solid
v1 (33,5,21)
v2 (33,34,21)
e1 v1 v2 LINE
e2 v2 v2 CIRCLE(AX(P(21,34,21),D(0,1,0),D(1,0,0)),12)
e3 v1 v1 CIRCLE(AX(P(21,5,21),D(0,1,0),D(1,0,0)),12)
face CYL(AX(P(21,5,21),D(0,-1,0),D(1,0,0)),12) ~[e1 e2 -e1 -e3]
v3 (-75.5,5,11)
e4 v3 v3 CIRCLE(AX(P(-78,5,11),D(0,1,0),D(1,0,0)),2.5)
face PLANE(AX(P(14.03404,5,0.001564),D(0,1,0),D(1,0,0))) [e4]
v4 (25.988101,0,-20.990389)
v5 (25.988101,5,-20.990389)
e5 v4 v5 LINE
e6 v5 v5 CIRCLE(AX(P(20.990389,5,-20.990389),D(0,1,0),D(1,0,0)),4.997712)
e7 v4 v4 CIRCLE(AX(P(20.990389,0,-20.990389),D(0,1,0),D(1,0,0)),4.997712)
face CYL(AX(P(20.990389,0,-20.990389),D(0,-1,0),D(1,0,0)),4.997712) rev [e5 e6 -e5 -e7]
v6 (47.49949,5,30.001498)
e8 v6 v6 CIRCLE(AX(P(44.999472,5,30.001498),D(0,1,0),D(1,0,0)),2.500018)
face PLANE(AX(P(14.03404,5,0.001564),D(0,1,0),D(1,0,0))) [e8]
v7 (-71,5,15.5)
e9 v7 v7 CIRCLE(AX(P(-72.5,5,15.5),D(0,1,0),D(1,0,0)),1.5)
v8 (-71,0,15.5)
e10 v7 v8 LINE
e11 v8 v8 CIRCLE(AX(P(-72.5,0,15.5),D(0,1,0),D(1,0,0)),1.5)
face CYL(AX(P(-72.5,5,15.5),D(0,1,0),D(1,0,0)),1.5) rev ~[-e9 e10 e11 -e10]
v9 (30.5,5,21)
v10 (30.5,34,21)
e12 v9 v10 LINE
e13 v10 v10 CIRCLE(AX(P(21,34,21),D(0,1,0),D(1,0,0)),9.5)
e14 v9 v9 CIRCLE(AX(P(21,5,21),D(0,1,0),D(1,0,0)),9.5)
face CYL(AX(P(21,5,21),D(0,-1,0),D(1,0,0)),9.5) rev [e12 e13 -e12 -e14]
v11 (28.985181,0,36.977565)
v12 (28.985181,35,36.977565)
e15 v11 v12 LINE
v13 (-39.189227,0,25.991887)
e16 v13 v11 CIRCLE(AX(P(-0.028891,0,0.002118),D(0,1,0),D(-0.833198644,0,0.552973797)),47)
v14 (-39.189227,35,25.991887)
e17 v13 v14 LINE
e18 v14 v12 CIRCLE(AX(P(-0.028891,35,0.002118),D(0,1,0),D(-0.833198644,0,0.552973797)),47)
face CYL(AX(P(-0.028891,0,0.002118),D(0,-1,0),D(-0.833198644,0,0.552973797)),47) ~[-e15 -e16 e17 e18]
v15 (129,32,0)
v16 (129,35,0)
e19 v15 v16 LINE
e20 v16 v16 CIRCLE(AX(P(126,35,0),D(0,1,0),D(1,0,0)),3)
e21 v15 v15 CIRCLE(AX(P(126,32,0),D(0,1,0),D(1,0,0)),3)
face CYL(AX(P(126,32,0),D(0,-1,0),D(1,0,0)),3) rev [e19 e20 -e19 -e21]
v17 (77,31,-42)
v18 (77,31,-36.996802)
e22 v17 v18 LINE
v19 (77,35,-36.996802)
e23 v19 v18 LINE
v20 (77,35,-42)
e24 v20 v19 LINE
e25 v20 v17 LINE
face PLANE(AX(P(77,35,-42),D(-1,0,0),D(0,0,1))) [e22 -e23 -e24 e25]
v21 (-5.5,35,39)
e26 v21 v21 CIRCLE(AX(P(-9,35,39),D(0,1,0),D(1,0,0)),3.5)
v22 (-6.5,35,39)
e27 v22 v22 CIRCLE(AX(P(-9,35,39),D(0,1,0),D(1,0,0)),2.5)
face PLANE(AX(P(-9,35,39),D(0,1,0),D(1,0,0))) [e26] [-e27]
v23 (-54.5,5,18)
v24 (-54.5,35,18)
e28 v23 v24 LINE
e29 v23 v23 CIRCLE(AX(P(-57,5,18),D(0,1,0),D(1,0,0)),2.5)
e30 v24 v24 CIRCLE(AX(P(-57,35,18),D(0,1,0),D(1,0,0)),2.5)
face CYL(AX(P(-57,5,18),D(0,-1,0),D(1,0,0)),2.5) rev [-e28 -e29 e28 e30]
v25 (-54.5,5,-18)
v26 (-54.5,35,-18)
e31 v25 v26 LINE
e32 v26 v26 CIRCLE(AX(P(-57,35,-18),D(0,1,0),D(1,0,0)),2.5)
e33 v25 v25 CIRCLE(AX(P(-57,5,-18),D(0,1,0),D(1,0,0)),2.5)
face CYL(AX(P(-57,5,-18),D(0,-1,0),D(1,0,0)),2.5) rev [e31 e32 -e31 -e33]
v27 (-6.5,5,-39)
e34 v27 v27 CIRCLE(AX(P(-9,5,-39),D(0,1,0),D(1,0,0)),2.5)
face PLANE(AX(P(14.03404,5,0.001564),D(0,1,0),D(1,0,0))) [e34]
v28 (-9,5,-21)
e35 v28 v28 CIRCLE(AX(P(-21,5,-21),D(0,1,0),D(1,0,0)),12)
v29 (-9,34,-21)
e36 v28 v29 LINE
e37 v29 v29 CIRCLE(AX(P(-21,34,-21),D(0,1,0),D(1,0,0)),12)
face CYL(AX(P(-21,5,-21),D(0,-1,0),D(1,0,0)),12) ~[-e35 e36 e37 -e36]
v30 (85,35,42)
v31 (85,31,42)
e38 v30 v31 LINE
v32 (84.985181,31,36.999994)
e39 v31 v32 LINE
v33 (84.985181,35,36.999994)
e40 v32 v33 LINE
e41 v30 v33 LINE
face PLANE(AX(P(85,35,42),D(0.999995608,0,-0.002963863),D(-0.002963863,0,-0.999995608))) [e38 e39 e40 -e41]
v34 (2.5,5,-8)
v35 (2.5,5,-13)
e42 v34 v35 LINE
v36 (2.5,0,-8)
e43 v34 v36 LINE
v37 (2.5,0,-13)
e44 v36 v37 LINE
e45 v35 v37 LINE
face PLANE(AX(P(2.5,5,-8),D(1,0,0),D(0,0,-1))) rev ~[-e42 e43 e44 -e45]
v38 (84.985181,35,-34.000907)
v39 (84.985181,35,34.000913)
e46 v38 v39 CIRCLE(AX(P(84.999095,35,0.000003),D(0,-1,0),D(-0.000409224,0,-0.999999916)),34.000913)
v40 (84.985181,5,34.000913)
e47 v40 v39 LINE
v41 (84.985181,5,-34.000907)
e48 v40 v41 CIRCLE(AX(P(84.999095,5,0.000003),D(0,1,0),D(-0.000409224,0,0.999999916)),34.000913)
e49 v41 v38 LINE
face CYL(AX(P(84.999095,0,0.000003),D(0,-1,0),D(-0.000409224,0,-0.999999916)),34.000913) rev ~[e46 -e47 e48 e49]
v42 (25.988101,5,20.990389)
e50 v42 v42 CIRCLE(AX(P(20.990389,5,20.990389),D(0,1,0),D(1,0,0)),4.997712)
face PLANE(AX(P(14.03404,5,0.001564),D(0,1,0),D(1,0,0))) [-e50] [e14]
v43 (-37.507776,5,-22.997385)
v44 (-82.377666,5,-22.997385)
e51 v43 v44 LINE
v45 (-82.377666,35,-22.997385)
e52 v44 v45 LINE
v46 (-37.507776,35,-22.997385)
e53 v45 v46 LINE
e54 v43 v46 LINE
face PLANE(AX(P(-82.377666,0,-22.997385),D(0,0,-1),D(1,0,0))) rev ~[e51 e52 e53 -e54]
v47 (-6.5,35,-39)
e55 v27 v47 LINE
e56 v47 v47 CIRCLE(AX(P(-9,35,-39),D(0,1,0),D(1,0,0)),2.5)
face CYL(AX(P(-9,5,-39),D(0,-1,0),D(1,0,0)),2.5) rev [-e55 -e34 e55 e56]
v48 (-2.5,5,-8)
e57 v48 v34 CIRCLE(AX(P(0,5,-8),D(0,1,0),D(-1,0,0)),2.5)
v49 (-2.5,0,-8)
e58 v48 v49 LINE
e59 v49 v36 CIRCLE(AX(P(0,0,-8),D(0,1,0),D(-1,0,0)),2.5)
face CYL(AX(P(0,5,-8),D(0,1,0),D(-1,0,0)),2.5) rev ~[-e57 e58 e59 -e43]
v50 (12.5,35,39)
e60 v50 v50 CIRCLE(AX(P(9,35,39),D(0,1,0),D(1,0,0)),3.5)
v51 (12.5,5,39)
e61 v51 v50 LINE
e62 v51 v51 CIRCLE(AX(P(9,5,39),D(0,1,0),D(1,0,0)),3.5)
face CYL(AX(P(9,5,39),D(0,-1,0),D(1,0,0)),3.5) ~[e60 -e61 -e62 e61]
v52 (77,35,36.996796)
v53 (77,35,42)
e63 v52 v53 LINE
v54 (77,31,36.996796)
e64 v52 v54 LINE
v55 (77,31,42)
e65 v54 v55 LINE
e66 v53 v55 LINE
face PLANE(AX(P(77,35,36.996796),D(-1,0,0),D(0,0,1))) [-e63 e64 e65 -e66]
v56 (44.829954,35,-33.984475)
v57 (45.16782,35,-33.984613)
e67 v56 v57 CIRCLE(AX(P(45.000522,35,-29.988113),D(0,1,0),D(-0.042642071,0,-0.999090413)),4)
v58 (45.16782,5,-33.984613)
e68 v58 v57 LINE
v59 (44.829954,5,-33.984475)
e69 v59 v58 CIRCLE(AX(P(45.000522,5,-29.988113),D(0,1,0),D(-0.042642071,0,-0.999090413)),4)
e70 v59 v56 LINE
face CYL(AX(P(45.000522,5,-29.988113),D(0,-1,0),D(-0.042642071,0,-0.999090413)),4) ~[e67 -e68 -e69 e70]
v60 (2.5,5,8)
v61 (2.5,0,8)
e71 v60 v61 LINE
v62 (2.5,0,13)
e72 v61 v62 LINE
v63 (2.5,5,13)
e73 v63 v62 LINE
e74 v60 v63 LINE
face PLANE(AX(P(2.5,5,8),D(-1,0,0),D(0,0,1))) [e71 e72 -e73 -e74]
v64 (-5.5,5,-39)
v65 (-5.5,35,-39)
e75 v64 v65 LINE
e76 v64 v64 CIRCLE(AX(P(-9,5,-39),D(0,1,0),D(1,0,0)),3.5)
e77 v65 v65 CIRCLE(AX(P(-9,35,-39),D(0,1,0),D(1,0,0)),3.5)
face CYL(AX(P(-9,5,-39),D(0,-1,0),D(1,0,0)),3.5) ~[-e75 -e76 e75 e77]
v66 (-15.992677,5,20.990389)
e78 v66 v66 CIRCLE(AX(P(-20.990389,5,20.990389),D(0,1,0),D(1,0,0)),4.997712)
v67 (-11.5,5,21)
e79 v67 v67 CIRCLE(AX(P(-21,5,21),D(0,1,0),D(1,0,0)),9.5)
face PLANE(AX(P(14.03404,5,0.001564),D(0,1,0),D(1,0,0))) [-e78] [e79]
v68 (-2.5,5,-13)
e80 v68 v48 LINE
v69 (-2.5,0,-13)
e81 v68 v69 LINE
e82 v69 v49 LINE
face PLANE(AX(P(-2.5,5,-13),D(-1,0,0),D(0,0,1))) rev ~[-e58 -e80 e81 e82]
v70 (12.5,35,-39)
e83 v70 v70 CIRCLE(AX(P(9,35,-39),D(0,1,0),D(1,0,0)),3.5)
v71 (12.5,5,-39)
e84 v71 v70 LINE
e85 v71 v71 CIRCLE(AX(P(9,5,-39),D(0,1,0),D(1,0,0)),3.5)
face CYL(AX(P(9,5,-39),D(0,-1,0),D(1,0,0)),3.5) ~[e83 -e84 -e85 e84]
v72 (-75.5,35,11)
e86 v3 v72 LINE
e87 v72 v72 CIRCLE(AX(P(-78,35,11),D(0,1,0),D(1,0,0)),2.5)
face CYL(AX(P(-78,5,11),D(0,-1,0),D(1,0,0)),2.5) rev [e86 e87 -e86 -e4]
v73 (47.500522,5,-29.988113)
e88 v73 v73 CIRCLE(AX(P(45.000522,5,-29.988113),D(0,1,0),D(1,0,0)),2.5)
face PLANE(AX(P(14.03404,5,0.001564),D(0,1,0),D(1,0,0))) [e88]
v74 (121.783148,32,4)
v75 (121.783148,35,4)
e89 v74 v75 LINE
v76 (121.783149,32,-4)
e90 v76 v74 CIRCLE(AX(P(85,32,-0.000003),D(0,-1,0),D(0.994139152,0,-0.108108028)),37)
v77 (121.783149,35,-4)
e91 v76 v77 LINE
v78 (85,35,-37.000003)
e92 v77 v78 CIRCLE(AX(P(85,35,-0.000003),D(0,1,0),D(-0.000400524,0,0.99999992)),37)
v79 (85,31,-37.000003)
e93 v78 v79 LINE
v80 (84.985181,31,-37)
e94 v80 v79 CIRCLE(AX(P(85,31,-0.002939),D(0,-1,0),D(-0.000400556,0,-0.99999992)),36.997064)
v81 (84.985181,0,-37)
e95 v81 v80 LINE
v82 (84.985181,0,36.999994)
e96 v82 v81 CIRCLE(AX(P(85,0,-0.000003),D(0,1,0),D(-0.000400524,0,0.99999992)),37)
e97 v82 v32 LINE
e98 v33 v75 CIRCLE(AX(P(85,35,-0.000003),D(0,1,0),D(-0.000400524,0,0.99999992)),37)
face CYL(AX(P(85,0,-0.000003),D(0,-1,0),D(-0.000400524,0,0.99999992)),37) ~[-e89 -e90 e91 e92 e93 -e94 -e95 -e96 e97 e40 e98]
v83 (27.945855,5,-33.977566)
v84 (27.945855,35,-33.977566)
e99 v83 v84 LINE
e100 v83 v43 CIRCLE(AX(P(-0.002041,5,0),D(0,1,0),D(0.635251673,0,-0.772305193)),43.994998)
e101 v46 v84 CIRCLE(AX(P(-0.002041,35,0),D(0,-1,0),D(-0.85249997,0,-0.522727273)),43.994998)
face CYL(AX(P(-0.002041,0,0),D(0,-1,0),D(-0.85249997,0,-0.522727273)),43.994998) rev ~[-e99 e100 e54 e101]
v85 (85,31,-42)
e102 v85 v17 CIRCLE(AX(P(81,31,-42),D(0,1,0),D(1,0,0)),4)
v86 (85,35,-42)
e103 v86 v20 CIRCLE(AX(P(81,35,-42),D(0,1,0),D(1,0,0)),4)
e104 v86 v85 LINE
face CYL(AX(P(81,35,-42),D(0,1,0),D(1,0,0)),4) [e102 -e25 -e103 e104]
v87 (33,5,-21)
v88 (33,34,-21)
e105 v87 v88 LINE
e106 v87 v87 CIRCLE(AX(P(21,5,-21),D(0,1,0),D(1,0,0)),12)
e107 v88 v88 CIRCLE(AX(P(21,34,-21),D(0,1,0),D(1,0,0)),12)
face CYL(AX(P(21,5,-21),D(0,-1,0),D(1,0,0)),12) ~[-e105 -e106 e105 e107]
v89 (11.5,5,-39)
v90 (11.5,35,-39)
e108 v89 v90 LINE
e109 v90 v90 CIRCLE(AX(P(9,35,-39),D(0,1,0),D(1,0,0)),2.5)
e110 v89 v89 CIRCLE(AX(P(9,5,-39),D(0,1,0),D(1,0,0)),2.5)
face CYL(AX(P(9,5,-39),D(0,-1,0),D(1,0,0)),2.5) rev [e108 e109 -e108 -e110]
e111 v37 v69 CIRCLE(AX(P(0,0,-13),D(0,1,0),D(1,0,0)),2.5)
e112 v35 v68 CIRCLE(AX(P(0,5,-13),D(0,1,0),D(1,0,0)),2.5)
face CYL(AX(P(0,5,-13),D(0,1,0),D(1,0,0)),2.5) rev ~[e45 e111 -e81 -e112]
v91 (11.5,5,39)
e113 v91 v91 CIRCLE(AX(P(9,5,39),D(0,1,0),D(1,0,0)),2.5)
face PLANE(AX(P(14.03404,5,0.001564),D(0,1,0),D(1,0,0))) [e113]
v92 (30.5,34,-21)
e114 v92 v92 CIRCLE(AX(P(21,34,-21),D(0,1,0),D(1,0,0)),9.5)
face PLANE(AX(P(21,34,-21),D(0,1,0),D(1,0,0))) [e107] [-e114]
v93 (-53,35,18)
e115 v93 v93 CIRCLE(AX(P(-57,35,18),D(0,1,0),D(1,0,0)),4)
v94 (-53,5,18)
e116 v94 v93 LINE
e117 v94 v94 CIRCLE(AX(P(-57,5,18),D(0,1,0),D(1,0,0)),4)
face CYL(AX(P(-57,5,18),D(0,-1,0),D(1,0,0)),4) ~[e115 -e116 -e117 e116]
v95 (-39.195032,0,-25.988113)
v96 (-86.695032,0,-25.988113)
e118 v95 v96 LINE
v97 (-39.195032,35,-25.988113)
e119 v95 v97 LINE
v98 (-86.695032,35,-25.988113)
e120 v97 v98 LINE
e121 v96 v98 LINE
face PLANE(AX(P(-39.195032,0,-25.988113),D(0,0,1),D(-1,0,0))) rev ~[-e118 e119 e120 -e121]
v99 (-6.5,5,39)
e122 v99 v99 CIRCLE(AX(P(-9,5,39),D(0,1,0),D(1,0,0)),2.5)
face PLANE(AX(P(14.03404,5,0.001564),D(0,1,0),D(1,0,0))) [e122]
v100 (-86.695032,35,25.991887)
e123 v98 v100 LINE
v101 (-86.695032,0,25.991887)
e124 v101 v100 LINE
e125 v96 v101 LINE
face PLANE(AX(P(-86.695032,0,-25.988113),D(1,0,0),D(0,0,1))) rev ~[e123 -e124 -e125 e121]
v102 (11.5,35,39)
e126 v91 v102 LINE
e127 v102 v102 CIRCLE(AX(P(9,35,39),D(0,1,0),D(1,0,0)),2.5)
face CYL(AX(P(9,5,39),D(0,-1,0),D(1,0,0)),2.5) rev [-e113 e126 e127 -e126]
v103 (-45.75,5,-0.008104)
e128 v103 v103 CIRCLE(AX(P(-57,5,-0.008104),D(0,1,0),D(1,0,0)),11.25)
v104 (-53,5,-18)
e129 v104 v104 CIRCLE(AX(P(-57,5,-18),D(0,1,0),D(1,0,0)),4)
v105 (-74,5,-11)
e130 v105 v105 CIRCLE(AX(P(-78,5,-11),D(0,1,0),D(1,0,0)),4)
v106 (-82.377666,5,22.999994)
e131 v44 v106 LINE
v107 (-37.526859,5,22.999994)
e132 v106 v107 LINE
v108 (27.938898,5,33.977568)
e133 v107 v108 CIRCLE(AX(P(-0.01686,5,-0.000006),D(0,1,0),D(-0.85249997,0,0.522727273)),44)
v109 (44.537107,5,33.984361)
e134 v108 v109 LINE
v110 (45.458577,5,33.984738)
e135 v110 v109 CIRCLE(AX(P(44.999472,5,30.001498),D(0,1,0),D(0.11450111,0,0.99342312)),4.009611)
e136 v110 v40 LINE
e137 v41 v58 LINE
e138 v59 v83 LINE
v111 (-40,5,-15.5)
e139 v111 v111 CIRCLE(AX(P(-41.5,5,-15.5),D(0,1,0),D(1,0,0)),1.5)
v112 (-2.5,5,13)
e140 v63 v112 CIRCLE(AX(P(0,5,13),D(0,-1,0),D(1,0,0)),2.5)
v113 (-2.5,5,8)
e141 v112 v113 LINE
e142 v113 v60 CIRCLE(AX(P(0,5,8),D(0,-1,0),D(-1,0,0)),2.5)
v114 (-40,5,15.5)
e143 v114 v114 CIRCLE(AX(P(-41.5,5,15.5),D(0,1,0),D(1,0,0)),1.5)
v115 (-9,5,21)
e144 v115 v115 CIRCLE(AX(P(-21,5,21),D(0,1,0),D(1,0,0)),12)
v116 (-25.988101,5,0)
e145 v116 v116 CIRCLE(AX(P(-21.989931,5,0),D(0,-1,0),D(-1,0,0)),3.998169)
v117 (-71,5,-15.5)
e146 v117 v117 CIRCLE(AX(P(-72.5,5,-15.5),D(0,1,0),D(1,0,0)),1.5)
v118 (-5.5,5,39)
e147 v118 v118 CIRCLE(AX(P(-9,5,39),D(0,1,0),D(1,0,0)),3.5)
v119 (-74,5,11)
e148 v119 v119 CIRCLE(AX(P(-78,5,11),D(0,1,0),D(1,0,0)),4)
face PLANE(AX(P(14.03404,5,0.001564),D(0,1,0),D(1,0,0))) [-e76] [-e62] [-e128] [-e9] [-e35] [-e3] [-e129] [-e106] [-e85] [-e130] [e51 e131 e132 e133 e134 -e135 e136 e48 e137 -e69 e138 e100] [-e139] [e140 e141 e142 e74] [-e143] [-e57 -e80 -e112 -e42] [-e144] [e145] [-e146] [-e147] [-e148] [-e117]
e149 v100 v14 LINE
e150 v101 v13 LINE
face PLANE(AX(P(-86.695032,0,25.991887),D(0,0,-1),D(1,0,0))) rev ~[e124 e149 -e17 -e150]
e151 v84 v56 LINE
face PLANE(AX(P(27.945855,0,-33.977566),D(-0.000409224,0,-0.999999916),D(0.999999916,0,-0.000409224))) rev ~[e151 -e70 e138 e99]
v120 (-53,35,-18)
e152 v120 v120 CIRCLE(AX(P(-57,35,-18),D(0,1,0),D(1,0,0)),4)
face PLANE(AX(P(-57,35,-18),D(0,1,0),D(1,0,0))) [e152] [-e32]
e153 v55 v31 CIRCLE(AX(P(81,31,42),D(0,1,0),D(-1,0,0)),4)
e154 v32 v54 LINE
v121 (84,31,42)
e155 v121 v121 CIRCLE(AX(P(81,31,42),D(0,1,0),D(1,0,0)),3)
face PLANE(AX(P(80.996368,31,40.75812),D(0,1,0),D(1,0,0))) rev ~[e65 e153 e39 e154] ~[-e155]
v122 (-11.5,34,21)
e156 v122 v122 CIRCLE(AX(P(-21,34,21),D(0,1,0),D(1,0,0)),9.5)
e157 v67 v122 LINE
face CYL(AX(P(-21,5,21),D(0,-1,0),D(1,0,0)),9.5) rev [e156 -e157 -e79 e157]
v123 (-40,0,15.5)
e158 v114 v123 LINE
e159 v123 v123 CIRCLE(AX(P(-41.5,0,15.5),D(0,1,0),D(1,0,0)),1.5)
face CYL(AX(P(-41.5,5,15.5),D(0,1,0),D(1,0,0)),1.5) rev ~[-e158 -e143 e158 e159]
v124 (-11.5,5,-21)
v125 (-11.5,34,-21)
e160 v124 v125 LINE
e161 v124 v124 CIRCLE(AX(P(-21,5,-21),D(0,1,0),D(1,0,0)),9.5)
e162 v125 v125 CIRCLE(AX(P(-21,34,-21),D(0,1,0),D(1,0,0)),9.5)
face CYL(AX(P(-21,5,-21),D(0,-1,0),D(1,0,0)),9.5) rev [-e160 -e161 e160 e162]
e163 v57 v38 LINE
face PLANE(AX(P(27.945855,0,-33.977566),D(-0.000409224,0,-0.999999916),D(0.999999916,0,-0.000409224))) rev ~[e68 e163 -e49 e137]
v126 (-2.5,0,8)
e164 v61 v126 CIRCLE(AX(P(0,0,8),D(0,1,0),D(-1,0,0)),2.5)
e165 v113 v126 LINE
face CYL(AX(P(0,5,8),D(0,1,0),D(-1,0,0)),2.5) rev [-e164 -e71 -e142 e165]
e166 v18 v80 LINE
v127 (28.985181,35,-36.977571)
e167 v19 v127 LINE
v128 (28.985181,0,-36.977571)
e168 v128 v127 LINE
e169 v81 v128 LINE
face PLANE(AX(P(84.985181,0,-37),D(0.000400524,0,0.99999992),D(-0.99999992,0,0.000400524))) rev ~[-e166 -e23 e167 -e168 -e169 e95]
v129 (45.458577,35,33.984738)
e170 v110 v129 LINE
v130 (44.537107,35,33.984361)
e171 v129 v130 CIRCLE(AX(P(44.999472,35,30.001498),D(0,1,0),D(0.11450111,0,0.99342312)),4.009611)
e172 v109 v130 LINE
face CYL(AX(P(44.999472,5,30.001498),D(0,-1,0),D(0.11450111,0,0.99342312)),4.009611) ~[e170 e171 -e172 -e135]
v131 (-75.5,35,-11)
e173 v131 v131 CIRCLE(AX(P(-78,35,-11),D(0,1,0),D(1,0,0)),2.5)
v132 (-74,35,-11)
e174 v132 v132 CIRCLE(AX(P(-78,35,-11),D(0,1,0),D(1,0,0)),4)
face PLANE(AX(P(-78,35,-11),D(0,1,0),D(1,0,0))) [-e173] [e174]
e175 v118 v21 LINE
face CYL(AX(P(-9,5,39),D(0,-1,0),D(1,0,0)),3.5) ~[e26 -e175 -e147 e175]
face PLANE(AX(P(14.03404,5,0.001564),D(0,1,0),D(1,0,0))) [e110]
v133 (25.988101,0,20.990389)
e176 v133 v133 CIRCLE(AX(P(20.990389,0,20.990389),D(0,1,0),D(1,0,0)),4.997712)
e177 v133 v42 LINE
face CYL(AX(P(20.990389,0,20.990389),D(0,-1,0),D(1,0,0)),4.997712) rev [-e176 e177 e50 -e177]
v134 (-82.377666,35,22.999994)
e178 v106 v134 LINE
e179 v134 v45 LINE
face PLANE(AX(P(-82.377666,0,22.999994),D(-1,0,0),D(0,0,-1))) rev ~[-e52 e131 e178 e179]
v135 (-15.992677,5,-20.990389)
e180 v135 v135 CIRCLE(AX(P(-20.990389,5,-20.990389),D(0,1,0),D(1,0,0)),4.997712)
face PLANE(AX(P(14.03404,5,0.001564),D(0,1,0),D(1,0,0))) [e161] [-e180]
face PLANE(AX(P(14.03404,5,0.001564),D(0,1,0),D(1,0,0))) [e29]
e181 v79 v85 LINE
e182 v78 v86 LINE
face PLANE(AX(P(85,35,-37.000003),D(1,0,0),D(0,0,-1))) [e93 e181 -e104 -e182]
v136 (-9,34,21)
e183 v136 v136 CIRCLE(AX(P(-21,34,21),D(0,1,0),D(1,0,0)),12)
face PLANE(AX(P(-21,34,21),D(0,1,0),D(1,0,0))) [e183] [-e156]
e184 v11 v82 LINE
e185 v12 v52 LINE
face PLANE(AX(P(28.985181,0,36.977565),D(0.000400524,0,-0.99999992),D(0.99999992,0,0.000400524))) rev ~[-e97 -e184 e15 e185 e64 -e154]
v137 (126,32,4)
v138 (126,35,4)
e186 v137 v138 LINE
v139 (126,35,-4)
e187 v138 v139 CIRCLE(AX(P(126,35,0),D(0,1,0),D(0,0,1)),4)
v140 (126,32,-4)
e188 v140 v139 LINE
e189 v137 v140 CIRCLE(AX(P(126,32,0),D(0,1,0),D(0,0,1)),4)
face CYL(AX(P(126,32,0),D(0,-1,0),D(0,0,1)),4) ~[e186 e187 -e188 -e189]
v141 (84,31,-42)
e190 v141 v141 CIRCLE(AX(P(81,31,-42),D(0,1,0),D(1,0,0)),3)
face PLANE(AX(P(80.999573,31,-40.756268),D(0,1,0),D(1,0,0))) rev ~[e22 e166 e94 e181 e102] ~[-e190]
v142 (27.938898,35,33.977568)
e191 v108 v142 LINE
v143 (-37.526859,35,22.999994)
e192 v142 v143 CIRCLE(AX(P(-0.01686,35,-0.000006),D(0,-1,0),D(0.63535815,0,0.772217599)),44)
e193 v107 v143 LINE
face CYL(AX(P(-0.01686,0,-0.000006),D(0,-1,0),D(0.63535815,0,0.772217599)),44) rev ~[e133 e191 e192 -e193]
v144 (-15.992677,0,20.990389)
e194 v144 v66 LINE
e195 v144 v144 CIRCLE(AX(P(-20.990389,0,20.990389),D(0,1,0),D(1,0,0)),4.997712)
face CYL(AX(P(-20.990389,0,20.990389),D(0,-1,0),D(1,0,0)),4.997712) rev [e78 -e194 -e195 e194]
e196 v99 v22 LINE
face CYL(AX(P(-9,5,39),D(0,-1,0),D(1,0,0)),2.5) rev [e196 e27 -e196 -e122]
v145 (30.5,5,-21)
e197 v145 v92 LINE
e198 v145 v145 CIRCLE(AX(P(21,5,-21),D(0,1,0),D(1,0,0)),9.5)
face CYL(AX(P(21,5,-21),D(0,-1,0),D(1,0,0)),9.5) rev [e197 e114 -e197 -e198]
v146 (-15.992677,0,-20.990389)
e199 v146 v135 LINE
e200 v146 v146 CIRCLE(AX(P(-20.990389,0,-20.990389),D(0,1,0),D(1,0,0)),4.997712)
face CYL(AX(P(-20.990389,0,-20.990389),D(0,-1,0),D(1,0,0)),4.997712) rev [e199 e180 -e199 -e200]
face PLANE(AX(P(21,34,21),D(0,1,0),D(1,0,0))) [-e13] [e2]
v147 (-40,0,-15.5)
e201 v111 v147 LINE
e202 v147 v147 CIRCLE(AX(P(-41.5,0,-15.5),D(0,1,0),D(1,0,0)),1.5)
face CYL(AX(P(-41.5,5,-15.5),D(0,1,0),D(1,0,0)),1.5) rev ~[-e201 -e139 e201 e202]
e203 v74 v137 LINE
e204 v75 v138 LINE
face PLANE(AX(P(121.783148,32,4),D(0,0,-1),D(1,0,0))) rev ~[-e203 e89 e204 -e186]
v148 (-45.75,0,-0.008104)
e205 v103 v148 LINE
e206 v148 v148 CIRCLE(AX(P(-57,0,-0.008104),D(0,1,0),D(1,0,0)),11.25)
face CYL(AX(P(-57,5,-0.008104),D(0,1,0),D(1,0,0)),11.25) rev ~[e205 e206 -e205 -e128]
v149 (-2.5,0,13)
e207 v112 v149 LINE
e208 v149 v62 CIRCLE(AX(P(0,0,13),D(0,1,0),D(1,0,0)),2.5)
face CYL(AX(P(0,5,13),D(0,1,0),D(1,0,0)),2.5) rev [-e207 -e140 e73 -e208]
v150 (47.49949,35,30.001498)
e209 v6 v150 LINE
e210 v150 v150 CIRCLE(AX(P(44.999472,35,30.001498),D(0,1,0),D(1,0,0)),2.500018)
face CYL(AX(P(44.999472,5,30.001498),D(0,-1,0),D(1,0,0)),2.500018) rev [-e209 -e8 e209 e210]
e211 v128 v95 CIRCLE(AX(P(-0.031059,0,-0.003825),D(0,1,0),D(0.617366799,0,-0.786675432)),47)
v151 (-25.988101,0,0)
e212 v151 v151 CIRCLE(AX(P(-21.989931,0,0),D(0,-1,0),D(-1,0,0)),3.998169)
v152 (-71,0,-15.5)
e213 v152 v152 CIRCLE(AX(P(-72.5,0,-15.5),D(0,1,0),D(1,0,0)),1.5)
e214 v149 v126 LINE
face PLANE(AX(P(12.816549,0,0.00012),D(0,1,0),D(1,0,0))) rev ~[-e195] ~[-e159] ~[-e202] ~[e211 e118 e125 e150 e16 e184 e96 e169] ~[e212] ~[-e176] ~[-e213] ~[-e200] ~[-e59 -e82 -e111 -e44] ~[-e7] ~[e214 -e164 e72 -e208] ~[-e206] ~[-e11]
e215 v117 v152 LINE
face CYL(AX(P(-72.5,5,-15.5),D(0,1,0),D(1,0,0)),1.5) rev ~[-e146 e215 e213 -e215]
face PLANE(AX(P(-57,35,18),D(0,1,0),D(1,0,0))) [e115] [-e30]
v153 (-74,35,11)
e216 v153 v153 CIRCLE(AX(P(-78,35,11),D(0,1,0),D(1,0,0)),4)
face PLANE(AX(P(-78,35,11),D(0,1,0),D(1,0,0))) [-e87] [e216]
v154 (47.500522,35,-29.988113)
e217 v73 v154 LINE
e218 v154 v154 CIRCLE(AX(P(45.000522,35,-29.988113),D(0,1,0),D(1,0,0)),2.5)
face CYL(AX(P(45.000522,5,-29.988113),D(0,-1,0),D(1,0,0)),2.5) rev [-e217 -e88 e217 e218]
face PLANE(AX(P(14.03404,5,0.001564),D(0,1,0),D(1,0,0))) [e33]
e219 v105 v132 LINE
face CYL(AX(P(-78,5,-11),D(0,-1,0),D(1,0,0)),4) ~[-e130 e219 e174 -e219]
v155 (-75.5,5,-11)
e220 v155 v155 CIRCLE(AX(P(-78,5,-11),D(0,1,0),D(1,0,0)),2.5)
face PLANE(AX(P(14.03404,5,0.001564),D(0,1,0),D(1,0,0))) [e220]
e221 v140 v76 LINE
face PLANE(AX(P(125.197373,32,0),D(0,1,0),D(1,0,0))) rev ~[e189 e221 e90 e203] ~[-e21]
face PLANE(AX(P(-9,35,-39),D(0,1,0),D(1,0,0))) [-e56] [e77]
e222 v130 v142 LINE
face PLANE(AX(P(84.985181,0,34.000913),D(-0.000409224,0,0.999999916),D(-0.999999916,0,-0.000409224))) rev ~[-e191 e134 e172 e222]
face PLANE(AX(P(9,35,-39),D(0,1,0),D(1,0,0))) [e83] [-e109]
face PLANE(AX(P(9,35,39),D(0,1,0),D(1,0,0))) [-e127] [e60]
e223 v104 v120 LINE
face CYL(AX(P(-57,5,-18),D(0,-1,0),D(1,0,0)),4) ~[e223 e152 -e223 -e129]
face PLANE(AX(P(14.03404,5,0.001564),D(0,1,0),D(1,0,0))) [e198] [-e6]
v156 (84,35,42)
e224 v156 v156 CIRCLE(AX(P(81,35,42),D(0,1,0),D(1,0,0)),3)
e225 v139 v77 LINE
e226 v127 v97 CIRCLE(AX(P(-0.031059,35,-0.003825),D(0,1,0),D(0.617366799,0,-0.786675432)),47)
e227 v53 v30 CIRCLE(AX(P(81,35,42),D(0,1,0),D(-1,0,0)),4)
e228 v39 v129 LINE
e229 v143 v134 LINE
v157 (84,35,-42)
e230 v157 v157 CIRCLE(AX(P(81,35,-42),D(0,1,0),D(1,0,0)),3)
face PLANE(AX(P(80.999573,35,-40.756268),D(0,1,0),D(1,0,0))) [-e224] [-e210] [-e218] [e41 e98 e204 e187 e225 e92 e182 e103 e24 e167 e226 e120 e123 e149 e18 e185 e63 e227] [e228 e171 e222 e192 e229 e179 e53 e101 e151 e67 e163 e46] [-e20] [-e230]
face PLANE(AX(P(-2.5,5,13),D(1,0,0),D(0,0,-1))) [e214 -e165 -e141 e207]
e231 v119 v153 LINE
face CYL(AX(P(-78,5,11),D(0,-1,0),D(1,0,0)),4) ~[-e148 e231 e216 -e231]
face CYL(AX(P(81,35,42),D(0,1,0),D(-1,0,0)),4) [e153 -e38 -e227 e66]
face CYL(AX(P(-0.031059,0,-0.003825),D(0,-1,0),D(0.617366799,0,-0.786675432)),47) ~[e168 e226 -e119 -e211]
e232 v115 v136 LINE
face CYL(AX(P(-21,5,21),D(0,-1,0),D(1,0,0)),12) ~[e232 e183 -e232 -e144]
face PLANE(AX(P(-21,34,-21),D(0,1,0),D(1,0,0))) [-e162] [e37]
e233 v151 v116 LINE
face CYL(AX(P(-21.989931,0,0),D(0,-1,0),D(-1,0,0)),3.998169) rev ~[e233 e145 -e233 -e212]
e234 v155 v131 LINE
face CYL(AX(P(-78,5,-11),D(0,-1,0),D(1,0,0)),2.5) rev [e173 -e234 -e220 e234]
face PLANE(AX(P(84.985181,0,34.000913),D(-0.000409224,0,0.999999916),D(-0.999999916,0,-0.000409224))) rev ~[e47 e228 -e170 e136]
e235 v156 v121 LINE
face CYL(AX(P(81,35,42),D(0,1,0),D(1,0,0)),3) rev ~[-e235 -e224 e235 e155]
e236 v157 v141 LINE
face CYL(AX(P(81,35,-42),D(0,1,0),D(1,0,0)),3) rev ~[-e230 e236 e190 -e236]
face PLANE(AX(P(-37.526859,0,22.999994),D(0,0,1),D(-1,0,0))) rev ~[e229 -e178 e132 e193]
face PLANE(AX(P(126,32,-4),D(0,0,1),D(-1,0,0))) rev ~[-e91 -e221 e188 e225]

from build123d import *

# Parameters (mm, degrees)
BOSS_EXTRUDE3_DEPTH = 35
SKETCH1_8_R         = 4.99771167
BOSS_EXTRUDE4_DEPTH = 5
CUT_EXTRUDE1_DEPTH  = 10
BOSS_EXTRUDE5_START = -3
SKETCH22_R          = 3
BOSS_EXTRUDE5_DEPTH = 3
SKETCH2_R           = 12
SKETCH2_R_2         = 9.5
BOSS_EXTRUDE6_DEPTH = 29
SKETCH23_R          = 2.999999999
SKETCH23_R_2        = 3
BOSS_EXTRUDE7_DEPTH = 4
SKETCH11_R          = 11.25
SKETCH11_R_2        = 1.5
CUT_EXTRUDE2_DEPTH  = 20
SKETCH24_R          = 4
SKETCH24_R_2        = 2.5
SKETCH24_R_3        = 3.5
SKETCH24_R_4        = 2.500018474
BOSS_EXTRUDE8_DEPTH = 30


with BuildPart() as part:
    # Sketch1 → Boss-Extrude3 (new body)
    with BuildSketch(Plane(origin=(0, 0, 0), x_dir=(1, 0, 0), z_dir=(0, 1, 0))):
        with BuildLine():
            Line((-39.195031893, 25.988113322), (-86.695031893, 25.988113322))
            Line((-86.695031893, 25.988113322), (-86.695031893, -0.001886678))
            Line((-86.695031893, -0.001886678), (-86.695031893, -25.991886678))
            Line((-86.695031893, -25.991886678), (-39.189227367, -25.991886678))
            ThreePointArc((-39.189227367, -25.991886678), (-7.506053104, -46.403541136), (28.985180603, -36.977564703))
            Line((28.985180603, -36.977564703), (84.985180603, -36.999994064))
            ThreePointArc((84.985180603, -36.999994064), (122.000000001, 2.968e-06), (84.985180603, 37))
            Line((84.985180603, 37), (28.985180603, 36.977570638))
            ThreePointArc((28.985180603, 36.977570638), (-7.510107434, 46.404944207), (-39.195031893, 25.988113322))
        make_face()
        with BuildLine():
            Line((-82.377665867, -22.999994064), (-82.377665867, -0.001612142))
            Line((-82.377665867, -0.001612142), (-82.377665867, 22.997385422))
            Line((-82.377665867, 22.997385422), (-37.507775535, 22.997385422))
            ThreePointArc((-37.507775535, 22.997385422), (-7.280719209, 43.388716375), (27.945855319, 33.977565588))
            Line((27.945855319, 33.977565588), (84.985180603, 34.000907476))
            ThreePointArc((84.985180603, 34.000907476), (119.000007777, -2.847e-06), (84.985180603, -34.00091317))
            Line((84.985180603, -34.00091317), (27.938898317, -33.977568435))
            ThreePointArc((27.938898317, -33.977568435), (-7.29337461, -43.394145047), (-37.526858967, -22.999994064))
            Line((-37.526858967, -22.999994064), (-82.377665867, -22.999994064))
        make_face(mode=Mode.SUBTRACT)
    extrude(amount=BOSS_EXTRUDE3_DEPTH)

    # Sketch22 → Boss-Extrude5 (add)
    with BuildSketch(Plane(origin=(0, 35, 0), x_dir=(1, 0, 0), z_dir=(0, 1, 0)).offset(BOSS_EXTRUDE5_START)):
        with BuildLine():
            ThreePointArc((126, -4), (130, 0), (126, 4))
            Line((126, 4), (121.783148639, 4))
            ThreePointArc((121.783148639, 4), (122.000000001, -1.7e-08), (121.783147994, -4))
            Line((121.783147994, -4), (126, -4))
        make_face()
        with Locations((126, 0)):
            Circle(SKETCH22_R, mode=Mode.SUBTRACT)
    extrude(amount=BOSS_EXTRUDE5_DEPTH)


with BuildPart() as body_2:
    # Sketch1<8> → Boss-Extrude4 (new body)
    with BuildSketch(Plane(origin=(0, 0, 0), x_dir=(1, 0, 0), z_dir=(0, 1, 0))):
        with BuildLine():
            Line((-82.377665867, 22.997385422), (-82.377665867, -0.001612142))
            Line((-82.377665867, -0.001612142), (-82.377665867, -22.999994064))
            Line((-82.377665867, -22.999994064), (-37.526858967, -22.999994064))
            ThreePointArc((-37.526858967, -22.999994064), (-7.29337461, -43.394145047), (27.938898317, -33.977568435))
            Line((27.938898317, -33.977568435), (84.985180603, -34.00091317))
            ThreePointArc((84.985180603, -34.00091317), (119.000007777, -2.847e-06), (84.985180603, 34.000907476))
            Line((84.985180603, 34.000907476), (27.945855319, 33.977565588))
            ThreePointArc((27.945855319, 33.977565588), (-7.280719209, 43.388716375), (-37.507775535, 22.997385422))
            Line((-37.507775535, 22.997385422), (-82.377665867, 22.997385422))
        make_face()
        with Locations((-20.990389016, -20.990389016)):
            Circle(SKETCH1_8_R, mode=Mode.SUBTRACT)
        with BuildLine():
            ThreePointArc((-17.991762014, 0), (-21.98993135, -3.998169336), (-25.988100686, 0))
            ThreePointArc((-25.988100686, 0), (-21.98993135, 3.998169336), (-17.991762014, 0))
        make_face(mode=Mode.SUBTRACT)
        with Locations((20.990389016, -20.990389016)):
            Circle(SKETCH1_8_R, mode=Mode.SUBTRACT)
        with Locations((-20.990389016, 20.990389016)):
            Circle(SKETCH1_8_R, mode=Mode.SUBTRACT)
        with Locations((20.990389016, 20.990389016)):
            Circle(SKETCH1_8_R, mode=Mode.SUBTRACT)
    extrude(amount=BOSS_EXTRUDE4_DEPTH)

    # Sketch3 → Cut-Extrude1 (cut)
    with BuildSketch(Plane(origin=(0, 5, 0), x_dir=(1, 0, 0), z_dir=(0, 1, 0))):
        with BuildLine():
            Line((-2.5, -13), (-2.5, -8))
            ThreePointArc((-2.5, -8), (0, -5.5), (2.5, -8))
            Line((2.5, -8), (2.5, -13))
            ThreePointArc((2.5, -13), (0, -15.5), (-2.5, -13))
        make_face()
        with BuildLine():
            Line((-2.5, 13), (-2.5, 8))
            ThreePointArc((-2.5, 8), (0, 5.5), (2.5, 8))
            Line((2.5, 8), (2.5, 13))
            ThreePointArc((2.5, 13), (0, 15.5), (-2.5, 13))
        make_face()
    extrude(amount=-CUT_EXTRUDE1_DEPTH, mode=Mode.SUBTRACT)


    add(part.part)  # Boss-Extrude6 merges part
    # Sketch2 → Boss-Extrude6 (add)
    # profile 1 of 4: a face of its own
    with BuildSketch(Plane(origin=(0, 5, 0), x_dir=(1, 0, 0), z_dir=(0, 1, 0))):
        with Locations((-21, 21)):
            Circle(SKETCH2_R)
        with Locations((-21, 21)):
            Circle(SKETCH2_R_2, mode=Mode.SUBTRACT)
    # profile 2 of 4: a face of its own
    with BuildSketch(Plane(origin=(0, 5, 0), x_dir=(1, 0, 0), z_dir=(0, 1, 0))):
        with Locations((-21, -21)):
            Circle(SKETCH2_R)
        with Locations((-21, -21)):
            Circle(SKETCH2_R_2, mode=Mode.SUBTRACT)
    # profile 3 of 4: a face of its own
    with BuildSketch(Plane(origin=(0, 5, 0), x_dir=(1, 0, 0), z_dir=(0, 1, 0))):
        with Locations((21, -21)):
            Circle(SKETCH2_R)
        with Locations((21, -21)):
            Circle(SKETCH2_R_2, mode=Mode.SUBTRACT)
    # profile 4 of 4: a face of its own
    with BuildSketch(Plane(origin=(0, 5, 0), x_dir=(1, 0, 0), z_dir=(0, 1, 0))):
        with Locations((21, 21)):
            Circle(SKETCH2_R)
        with Locations((21, 21)):
            Circle(SKETCH2_R_2, mode=Mode.SUBTRACT)
    extrude(amount=BOSS_EXTRUDE6_DEPTH)

    # Sketch23 → Boss-Extrude7 (add)
    # profile 1 of 2: a face of its own
    with BuildSketch(Plane(origin=(0, 35, 0), x_dir=(1, 0, 0), z_dir=(0, 1, 0))):
        with BuildLine():
            ThreePointArc((84.985180603, 37), (84.992590302, 37.000002226), (85.000000001, 37.000002968))
            Line((85.000000001, 37.000002968), (85.000000001, 42))
            ThreePointArc((85.000000001, 42), (81.000000001, 46.000000001), (77, 42))
            Line((77, 42), (77, 36.996801741))
            Line((77, 36.996801741), (84.985180603, 37))
        make_face()
        with Locations((81.000000001, 42)):
            Circle(SKETCH23_R, mode=Mode.SUBTRACT)
    # profile 2 of 2: a face of its own
    with BuildSketch(Plane(origin=(0, 35, 0), x_dir=(1, 0, 0), z_dir=(0, 1, 0))):
        with BuildLine():
            Line((77, -36.996795805), (77, -42))
            ThreePointArc((77, -42), (81.000000001, -46.000000001), (85.000000001, -42))
            Line((85.000000001, -42), (84.985180603, -36.999994064))
            Line((84.985180603, -36.999994064), (77, -36.996795805))
        make_face()
        with Locations((81.000000001, -42)):
            Circle(SKETCH23_R_2, mode=Mode.SUBTRACT)
    extrude(amount=-BOSS_EXTRUDE7_DEPTH)

    # Sketch11 → Cut-Extrude2 (cut)
    with BuildSketch(Plane(origin=(0, 5, 0), x_dir=(1, 0, 0), z_dir=(0, 1, 0))):
        with Locations((-57, 0.008103654)):
            Circle(SKETCH11_R)
        with Locations((-72.5, 15.5)):
            Circle(SKETCH11_R_2)
        with Locations((-41.5, 15.5)):
            Circle(SKETCH11_R_2)
        with Locations((-41.5, -15.5)):
            Circle(SKETCH11_R_2)
        with Locations((-72.5, -15.5)):
            Circle(SKETCH11_R_2)
    extrude(amount=-CUT_EXTRUDE2_DEPTH, mode=Mode.SUBTRACT)

    # Sketch24 → Boss-Extrude8 (add)
    # profile 1 of 10: a face of its own
    with BuildSketch(Plane(origin=(0, 5, 0), x_dir=(1, 0, 0), z_dir=(0, 1, 0))):
        with Locations((-78, 11)):
            Circle(SKETCH24_R)
        with Locations((-78, 11)):
            Circle(SKETCH24_R_2, mode=Mode.SUBTRACT)
    # profile 2 of 10: a face of its own
    with BuildSketch(Plane(origin=(0, 5, 0), x_dir=(1, 0, 0), z_dir=(0, 1, 0))):
        with Locations((-78, -11)):
            Circle(SKETCH24_R)
        with Locations((-78, -11)):
            Circle(SKETCH24_R_2, mode=Mode.SUBTRACT)
    # profile 3 of 10: a face of its own
    with BuildSketch(Plane(origin=(0, 5, 0), x_dir=(1, 0, 0), z_dir=(0, 1, 0))):
        with Locations((-57, -18)):
            Circle(SKETCH24_R)
        with Locations((-57, -18)):
            Circle(SKETCH24_R_2, mode=Mode.SUBTRACT)
    # profile 4 of 10: a face of its own
    with BuildSketch(Plane(origin=(0, 5, 0), x_dir=(1, 0, 0), z_dir=(0, 1, 0))):
        with Locations((-57, 18)):
            Circle(SKETCH24_R)
        with Locations((-57, 18)):
            Circle(SKETCH24_R_2, mode=Mode.SUBTRACT)
    # profile 5 of 10: a face of its own
    with BuildSketch(Plane(origin=(0, 5, 0), x_dir=(1, 0, 0), z_dir=(0, 1, 0))):
        with Locations((-9, 39)):
            Circle(SKETCH24_R_3)
        with Locations((-9, 39)):
            Circle(SKETCH24_R_2, mode=Mode.SUBTRACT)
    # profile 6 of 10: a face of its own
    with BuildSketch(Plane(origin=(0, 5, 0), x_dir=(1, 0, 0), z_dir=(0, 1, 0))):
        with Locations((-9, -39)):
            Circle(SKETCH24_R_3)
        with Locations((-9, -39)):
            Circle(SKETCH24_R_2, mode=Mode.SUBTRACT)
    # profile 7 of 10: a face of its own
    with BuildSketch(Plane(origin=(0, 5, 0), x_dir=(1, 0, 0), z_dir=(0, 1, 0))):
        with Locations((9, 39)):
            Circle(SKETCH24_R_3)
        with Locations((9, 39)):
            Circle(SKETCH24_R_2, mode=Mode.SUBTRACT)
    # profile 8 of 10: a face of its own
    with BuildSketch(Plane(origin=(0, 5, 0), x_dir=(1, 0, 0), z_dir=(0, 1, 0))):
        with Locations((9, -39)):
            Circle(SKETCH24_R_3)
        with Locations((9, -39)):
            Circle(SKETCH24_R_2, mode=Mode.SUBTRACT)
    # profile 9 of 10: a face of its own
    with BuildSketch(Plane(origin=(0, 5, 0), x_dir=(1, 0, 0), z_dir=(0, 1, 0))):
        with BuildLine():
            ThreePointArc((44.829954146, 33.984474975), (45.00215934, 25.988113657), (45.167819864, 33.984613237))
            Line((45.167819864, 33.984613237), (44.829954146, 33.984474975))
        make_face()
        with Locations((45.000522442, 29.988113322)):
            Circle(SKETCH24_R_2, mode=Mode.SUBTRACT)
    # profile 10 of 10: a face of its own
    with BuildSketch(Plane(origin=(0, 5, 0), x_dir=(1, 0, 0), z_dir=(0, 1, 0))):
        with BuildLine():
            ThreePointArc((45.458576581, -33.984737916), (45.001112501, -25.991887014), (44.537106836, -33.984360828))
            Line((44.537106836, -33.984360828), (45.458576581, -33.984737916))
        make_face()
        with Locations((44.999471671, -30.001497662)):
            Circle(SKETCH24_R_4, mode=Mode.SUBTRACT)
    extrude(amount=BOSS_EXTRUDE8_DEPTH)


solid = body_2.part
